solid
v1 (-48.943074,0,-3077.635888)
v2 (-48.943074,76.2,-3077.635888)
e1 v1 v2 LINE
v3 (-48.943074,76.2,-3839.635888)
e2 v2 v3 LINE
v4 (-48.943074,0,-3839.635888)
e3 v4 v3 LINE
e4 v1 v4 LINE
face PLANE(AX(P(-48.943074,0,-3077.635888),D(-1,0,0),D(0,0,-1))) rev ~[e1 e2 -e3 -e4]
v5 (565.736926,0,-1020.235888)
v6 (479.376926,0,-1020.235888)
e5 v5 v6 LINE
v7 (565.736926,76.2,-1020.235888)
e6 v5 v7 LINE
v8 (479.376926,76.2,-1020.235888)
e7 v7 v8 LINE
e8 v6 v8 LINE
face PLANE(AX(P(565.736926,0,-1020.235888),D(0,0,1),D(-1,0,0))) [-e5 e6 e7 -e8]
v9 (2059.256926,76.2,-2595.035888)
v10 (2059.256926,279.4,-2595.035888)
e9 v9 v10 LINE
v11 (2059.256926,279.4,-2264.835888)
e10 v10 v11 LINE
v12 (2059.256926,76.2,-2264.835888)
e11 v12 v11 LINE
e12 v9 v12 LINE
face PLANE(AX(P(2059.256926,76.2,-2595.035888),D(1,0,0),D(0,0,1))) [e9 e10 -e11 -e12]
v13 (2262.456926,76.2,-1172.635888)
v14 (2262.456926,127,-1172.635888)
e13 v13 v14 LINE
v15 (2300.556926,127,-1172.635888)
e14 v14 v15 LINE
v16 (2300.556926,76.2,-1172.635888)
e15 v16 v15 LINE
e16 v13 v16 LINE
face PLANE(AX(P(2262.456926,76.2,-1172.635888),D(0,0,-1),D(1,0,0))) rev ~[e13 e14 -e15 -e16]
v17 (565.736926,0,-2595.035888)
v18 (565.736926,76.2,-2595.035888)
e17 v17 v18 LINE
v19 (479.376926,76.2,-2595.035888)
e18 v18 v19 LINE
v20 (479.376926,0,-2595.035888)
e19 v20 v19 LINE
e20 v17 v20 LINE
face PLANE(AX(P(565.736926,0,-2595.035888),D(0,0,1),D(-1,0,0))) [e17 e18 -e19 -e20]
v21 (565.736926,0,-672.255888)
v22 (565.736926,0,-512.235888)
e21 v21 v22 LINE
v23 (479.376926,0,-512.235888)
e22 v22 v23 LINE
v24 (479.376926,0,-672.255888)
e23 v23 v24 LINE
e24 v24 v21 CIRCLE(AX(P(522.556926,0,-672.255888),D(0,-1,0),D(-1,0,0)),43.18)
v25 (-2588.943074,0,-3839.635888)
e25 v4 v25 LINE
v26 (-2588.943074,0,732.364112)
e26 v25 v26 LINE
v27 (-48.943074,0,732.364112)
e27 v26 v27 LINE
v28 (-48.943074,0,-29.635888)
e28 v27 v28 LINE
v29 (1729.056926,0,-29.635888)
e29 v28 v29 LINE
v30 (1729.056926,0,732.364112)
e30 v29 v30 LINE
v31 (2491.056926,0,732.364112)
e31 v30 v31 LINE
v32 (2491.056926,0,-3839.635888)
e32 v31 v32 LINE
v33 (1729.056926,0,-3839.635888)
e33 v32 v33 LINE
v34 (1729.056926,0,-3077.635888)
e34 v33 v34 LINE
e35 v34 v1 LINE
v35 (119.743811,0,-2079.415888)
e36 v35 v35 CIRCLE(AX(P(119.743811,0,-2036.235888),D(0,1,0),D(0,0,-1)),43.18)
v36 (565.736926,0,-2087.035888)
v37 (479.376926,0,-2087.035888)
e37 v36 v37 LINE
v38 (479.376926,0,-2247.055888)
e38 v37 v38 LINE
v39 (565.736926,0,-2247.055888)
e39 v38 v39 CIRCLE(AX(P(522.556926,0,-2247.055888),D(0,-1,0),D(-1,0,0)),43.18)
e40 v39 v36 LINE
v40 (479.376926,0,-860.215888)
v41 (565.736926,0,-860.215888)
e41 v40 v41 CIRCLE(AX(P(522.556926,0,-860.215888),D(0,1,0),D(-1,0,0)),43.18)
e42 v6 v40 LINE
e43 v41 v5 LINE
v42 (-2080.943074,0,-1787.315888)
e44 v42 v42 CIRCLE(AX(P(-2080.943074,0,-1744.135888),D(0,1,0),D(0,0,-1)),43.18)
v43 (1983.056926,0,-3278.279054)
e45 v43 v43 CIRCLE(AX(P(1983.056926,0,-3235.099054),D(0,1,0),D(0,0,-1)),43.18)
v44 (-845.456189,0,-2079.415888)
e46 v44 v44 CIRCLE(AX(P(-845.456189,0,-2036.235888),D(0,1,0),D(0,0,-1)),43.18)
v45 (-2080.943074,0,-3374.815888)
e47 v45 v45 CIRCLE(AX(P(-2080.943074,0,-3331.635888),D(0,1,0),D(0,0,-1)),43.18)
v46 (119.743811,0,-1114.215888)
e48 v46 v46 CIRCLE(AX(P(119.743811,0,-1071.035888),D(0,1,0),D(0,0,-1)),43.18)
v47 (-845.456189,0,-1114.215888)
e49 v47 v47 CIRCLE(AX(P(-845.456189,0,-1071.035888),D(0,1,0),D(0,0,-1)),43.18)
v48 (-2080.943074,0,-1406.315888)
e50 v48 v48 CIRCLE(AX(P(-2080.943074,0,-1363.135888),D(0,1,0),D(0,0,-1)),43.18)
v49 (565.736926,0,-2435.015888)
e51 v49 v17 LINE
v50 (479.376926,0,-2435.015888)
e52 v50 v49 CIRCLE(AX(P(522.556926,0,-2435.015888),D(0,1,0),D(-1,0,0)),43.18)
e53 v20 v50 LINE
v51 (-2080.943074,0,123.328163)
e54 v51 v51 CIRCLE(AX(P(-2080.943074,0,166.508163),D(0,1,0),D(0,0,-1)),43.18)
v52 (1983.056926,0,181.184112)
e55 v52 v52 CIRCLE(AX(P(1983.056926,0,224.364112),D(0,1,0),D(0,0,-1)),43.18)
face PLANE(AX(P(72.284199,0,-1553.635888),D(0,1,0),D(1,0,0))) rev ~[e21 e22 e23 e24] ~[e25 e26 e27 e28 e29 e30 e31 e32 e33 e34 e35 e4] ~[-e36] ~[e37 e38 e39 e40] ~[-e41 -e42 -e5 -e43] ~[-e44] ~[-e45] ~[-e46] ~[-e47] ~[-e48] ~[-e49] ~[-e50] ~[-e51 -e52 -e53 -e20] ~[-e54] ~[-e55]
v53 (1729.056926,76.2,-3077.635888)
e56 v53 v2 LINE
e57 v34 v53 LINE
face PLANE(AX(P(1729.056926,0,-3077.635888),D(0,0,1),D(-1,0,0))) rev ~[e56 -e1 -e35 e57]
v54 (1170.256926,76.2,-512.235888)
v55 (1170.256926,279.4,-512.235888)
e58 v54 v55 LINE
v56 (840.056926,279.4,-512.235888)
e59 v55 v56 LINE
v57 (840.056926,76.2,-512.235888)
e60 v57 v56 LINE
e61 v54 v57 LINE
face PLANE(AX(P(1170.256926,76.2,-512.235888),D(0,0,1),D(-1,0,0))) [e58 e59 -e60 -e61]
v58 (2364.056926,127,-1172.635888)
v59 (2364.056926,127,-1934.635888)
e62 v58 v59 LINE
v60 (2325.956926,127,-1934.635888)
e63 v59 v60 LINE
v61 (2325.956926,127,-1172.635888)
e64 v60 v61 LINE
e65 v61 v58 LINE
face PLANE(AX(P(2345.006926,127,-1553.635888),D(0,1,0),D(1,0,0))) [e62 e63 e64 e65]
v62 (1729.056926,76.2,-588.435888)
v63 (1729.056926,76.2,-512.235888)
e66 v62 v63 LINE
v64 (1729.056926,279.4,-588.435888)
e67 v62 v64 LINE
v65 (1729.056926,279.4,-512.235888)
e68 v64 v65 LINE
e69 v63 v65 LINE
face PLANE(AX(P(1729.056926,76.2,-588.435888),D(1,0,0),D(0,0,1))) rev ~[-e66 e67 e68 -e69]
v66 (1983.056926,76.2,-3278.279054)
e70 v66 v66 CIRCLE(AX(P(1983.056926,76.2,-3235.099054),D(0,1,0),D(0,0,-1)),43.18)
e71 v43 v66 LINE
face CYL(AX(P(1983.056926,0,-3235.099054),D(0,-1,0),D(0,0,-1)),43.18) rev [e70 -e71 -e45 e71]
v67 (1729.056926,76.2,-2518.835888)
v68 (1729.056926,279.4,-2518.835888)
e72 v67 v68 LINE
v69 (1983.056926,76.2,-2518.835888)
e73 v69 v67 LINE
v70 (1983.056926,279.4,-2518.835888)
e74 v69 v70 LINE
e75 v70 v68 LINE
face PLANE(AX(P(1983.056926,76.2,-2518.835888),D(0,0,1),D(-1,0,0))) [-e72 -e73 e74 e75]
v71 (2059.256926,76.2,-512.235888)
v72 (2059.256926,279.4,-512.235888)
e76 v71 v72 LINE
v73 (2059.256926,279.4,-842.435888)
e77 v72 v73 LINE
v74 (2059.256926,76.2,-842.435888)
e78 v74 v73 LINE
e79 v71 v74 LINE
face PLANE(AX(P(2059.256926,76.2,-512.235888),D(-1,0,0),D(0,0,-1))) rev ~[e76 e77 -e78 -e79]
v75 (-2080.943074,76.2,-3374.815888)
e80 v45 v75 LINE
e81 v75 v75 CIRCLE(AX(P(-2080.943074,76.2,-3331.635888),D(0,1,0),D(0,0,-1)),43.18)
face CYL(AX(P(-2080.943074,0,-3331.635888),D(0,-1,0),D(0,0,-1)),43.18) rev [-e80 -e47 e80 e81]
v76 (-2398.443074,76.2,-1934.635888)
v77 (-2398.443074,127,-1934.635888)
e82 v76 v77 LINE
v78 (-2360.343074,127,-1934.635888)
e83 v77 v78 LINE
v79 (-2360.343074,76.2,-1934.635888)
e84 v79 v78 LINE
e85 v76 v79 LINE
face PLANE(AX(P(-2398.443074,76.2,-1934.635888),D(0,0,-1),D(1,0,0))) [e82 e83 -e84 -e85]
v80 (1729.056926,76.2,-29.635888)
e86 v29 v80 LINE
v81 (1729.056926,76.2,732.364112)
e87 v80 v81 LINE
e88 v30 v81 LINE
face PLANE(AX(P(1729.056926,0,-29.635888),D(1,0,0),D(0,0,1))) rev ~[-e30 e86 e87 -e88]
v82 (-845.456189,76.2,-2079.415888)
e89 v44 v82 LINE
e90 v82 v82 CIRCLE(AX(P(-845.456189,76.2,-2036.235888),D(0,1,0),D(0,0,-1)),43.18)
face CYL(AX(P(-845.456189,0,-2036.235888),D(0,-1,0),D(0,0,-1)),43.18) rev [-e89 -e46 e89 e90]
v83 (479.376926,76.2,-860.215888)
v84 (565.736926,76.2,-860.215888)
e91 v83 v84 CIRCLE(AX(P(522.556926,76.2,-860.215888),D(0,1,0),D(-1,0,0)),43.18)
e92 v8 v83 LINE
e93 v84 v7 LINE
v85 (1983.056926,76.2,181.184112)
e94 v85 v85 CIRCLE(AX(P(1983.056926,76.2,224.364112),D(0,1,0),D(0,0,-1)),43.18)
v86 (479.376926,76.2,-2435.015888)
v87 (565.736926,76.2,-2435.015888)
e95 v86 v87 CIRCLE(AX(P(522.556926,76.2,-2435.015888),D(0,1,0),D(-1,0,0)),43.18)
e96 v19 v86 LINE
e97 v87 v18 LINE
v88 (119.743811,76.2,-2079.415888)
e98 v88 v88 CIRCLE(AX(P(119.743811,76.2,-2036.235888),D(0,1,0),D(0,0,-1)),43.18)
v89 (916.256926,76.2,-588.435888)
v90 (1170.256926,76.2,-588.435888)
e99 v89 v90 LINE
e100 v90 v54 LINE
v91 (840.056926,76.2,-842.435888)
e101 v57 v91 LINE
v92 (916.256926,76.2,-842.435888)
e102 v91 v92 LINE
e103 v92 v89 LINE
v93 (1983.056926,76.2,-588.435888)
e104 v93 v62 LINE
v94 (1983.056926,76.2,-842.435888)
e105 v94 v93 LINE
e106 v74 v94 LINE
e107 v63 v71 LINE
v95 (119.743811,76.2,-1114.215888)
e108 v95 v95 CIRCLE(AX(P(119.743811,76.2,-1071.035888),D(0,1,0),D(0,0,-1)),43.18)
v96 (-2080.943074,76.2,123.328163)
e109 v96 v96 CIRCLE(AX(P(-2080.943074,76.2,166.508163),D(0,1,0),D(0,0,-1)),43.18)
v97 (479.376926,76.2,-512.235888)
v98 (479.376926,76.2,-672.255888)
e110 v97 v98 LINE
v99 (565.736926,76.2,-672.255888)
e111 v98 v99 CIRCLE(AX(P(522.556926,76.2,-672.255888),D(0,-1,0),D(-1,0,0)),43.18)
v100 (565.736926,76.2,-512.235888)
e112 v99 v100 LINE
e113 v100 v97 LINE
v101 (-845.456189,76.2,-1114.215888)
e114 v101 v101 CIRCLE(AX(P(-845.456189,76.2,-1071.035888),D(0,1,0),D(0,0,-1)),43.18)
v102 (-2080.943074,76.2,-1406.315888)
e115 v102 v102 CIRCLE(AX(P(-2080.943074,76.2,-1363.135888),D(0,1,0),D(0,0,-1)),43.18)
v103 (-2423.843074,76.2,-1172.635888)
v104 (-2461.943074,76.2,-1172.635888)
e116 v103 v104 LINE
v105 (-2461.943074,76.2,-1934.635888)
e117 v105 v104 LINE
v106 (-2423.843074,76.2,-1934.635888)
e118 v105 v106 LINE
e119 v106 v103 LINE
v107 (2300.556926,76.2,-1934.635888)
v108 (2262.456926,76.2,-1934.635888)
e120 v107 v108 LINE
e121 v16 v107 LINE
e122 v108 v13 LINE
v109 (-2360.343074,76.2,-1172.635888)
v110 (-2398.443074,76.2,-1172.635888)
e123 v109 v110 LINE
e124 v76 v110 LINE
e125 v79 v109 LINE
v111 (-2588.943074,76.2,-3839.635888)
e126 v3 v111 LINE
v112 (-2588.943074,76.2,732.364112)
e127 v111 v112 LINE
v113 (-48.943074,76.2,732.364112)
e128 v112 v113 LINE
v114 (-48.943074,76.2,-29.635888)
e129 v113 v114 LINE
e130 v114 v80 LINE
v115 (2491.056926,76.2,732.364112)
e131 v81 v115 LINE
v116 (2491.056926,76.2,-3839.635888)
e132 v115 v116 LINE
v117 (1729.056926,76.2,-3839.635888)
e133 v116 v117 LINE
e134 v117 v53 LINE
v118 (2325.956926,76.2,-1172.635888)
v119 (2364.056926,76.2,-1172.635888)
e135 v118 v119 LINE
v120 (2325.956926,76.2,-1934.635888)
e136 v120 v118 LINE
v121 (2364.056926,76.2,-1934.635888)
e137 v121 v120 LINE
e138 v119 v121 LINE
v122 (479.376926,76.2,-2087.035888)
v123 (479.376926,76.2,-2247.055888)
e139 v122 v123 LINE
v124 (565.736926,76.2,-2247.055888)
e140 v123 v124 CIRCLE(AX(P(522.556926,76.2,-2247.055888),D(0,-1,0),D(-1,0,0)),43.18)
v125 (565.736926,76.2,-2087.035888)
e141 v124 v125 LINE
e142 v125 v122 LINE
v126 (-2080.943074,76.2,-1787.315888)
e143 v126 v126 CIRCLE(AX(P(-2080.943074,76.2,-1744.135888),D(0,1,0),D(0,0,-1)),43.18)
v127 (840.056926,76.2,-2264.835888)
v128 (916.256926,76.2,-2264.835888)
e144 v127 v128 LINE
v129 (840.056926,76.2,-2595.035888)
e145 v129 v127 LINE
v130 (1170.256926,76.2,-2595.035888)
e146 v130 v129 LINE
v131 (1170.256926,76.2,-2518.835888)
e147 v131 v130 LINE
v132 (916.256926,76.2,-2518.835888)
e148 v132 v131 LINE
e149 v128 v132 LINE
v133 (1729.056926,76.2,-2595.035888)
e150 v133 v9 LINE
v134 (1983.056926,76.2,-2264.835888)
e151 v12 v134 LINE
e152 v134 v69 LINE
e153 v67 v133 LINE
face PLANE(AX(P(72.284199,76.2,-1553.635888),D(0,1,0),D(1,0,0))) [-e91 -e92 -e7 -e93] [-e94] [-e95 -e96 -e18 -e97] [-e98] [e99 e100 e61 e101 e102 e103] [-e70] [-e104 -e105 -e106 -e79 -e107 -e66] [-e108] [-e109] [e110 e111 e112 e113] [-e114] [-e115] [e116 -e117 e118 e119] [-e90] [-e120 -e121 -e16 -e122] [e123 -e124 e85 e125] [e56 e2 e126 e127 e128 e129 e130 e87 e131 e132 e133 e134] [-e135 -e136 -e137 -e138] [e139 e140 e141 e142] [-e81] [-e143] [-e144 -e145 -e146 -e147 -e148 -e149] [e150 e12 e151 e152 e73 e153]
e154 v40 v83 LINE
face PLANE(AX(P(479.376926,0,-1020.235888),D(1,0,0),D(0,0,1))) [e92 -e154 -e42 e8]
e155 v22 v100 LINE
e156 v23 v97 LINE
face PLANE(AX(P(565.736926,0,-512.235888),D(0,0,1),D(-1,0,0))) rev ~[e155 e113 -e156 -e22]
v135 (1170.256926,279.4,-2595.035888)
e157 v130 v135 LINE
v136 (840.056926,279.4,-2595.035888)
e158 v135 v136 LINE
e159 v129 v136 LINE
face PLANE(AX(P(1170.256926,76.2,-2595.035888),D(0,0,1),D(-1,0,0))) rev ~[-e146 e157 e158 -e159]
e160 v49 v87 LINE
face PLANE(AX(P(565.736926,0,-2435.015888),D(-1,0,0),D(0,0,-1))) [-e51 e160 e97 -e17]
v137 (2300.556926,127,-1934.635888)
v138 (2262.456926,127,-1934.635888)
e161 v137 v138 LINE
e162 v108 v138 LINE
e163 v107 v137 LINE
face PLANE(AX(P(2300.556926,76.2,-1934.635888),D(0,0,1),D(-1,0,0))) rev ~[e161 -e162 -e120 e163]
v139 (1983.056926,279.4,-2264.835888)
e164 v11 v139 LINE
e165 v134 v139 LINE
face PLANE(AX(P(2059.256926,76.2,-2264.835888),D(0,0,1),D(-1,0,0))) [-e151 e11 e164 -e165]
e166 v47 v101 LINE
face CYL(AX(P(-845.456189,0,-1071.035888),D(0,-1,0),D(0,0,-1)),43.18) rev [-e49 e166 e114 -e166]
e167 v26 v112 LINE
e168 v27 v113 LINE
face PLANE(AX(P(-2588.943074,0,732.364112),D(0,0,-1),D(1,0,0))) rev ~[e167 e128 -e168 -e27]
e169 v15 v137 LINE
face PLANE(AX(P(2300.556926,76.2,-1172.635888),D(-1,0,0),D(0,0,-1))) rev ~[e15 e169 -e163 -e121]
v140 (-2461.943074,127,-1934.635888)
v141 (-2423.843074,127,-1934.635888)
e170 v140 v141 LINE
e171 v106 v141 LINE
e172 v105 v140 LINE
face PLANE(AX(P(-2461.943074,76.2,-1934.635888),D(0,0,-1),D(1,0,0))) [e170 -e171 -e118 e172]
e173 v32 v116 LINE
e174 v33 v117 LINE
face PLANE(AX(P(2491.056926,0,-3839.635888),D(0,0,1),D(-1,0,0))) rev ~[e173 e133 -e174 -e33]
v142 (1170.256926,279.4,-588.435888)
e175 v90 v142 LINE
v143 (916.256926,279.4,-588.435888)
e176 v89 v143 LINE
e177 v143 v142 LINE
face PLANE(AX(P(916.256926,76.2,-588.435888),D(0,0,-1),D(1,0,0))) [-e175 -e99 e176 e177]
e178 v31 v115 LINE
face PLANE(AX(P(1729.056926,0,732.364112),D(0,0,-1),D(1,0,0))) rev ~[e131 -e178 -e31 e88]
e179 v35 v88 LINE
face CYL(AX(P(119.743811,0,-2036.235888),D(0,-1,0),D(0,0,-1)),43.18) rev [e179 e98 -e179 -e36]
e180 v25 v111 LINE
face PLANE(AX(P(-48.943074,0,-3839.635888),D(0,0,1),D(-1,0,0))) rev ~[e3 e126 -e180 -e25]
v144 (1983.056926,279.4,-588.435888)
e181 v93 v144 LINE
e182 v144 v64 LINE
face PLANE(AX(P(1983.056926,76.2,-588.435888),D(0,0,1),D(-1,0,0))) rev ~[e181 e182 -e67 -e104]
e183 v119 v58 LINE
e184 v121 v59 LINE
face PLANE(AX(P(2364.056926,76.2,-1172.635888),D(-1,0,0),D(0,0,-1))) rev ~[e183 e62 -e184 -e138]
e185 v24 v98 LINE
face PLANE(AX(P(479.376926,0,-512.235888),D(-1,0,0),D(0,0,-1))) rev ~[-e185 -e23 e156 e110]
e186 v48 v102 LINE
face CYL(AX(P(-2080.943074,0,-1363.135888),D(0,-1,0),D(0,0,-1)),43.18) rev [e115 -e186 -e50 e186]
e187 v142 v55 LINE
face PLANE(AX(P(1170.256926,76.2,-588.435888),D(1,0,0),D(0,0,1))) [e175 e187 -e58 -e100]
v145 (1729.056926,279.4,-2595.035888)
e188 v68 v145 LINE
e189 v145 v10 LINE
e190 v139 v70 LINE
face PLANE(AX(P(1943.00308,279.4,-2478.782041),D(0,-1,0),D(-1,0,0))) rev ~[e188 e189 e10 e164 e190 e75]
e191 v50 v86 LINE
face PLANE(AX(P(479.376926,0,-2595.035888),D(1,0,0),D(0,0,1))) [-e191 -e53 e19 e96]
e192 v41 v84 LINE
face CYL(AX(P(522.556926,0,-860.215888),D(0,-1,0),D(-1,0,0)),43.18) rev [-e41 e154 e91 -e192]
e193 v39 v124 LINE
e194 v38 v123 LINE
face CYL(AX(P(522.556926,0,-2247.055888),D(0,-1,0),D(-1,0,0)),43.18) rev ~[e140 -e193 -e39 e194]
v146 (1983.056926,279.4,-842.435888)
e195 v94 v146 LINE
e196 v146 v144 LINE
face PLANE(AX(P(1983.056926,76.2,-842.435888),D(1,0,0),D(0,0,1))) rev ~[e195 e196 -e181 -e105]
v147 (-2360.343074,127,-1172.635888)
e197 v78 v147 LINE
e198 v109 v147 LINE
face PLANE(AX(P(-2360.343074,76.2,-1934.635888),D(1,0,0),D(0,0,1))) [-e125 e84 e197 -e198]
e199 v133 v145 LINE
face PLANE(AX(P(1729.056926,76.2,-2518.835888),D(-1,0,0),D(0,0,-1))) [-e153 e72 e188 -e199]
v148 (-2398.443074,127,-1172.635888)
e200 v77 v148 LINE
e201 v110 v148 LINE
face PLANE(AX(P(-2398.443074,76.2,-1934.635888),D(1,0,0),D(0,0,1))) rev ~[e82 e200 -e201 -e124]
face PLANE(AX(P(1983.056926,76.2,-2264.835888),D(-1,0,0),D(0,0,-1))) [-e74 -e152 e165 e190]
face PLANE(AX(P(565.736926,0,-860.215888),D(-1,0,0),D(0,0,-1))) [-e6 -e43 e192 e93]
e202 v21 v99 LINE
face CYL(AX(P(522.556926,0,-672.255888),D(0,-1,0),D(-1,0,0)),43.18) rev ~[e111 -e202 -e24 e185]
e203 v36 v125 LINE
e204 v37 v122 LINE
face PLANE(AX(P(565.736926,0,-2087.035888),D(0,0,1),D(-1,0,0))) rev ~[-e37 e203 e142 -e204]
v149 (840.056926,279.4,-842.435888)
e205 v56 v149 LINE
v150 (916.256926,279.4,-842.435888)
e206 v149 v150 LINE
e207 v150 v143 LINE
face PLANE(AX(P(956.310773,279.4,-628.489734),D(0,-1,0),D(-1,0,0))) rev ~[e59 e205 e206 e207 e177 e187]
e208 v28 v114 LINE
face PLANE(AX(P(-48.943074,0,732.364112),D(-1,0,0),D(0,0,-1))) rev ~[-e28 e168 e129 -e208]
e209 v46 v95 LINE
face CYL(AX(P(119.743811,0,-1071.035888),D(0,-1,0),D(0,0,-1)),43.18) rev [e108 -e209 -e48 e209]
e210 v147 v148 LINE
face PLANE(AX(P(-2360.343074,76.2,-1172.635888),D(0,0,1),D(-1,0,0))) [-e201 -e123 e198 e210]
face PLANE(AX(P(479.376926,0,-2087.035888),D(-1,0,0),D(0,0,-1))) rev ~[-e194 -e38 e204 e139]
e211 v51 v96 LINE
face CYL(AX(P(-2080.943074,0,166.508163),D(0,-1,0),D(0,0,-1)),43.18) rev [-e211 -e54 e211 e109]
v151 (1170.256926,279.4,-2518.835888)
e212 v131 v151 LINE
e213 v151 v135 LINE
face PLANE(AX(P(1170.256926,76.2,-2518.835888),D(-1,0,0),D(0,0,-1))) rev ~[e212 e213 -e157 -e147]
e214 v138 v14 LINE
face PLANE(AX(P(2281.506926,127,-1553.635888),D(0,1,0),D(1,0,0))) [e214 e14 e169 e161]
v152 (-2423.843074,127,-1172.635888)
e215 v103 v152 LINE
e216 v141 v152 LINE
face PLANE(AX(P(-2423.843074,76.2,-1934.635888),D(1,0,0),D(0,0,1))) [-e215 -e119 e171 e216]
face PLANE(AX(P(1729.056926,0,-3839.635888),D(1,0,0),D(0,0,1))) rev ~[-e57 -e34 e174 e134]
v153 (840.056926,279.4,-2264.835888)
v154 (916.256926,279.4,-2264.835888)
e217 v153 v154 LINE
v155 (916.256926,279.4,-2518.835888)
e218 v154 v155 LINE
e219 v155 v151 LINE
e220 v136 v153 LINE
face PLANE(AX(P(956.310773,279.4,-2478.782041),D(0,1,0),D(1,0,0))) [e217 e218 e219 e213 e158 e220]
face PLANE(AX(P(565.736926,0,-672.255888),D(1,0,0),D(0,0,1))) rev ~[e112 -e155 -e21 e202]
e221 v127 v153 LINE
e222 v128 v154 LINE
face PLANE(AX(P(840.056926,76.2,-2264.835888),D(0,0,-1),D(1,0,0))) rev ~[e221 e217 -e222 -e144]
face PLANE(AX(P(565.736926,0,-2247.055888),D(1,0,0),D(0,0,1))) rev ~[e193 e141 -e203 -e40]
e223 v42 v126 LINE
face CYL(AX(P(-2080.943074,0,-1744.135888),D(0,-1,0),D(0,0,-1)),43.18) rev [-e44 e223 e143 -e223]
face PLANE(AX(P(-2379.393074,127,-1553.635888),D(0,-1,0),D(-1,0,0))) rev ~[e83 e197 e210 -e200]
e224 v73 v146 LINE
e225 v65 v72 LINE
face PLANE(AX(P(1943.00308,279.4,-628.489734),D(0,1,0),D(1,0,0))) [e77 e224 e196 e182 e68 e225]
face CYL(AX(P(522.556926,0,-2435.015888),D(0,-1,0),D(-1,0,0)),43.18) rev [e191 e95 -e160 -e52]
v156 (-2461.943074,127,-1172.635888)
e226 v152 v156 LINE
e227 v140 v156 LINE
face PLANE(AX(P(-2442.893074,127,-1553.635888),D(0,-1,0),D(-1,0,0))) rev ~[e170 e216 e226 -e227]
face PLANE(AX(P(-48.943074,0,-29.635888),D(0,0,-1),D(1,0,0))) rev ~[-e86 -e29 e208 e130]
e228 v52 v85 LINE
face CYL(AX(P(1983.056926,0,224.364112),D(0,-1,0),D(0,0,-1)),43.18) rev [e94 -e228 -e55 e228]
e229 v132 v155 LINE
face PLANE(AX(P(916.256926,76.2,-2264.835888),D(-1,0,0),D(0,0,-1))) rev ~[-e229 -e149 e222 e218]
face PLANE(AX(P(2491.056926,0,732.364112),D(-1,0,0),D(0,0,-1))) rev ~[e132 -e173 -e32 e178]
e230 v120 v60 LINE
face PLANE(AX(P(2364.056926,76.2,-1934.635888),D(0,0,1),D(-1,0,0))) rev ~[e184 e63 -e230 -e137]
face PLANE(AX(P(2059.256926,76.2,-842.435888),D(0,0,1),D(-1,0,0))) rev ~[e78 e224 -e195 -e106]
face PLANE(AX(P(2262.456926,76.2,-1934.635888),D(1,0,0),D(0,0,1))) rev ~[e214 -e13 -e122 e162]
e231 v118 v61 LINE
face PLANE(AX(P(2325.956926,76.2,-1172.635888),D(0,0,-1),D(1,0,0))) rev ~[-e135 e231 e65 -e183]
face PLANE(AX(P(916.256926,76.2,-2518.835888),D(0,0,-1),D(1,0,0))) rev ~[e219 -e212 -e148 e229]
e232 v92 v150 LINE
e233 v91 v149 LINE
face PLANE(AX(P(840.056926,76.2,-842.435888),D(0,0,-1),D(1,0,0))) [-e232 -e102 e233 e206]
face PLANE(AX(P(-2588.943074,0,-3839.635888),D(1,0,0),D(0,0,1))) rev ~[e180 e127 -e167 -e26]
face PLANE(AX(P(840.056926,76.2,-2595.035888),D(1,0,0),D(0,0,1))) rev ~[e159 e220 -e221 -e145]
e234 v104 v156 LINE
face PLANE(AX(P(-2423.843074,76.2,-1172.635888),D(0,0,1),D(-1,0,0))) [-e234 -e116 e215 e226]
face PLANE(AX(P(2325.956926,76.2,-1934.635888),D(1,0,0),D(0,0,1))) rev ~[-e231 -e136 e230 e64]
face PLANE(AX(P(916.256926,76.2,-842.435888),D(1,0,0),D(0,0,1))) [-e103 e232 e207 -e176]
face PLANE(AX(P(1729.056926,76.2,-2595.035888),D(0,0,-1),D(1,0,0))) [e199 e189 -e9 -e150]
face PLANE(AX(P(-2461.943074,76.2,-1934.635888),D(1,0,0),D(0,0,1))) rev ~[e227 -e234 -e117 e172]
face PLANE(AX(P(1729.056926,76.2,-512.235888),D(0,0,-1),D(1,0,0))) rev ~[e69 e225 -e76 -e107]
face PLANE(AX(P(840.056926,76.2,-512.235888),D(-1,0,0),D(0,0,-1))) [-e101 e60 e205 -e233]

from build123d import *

# Parameters (mm, degrees)
SKETCH1_R           = 43.18
BOSS_EXTRUDE1_DEPTH = 76.2
BOSS_EXTRUDE4_DEPTH = 203.2
BOSS_EXTRUDE8_DEPTH = 50.8


with BuildPart() as part:
    # Sketch1 → Boss-Extrude1 (new body)
    with BuildSketch(Plane(origin=(0, 0, 0), x_dir=(1, 0, 0), z_dir=(0, 1, 0))):
        Polygon((-48.943073508, 29.635887653), (1729.056926492, 29.635887653), (1729.056926492, -732.364112347), (2491.056926492, -732.364112347), (2491.056926492, 3839.635887653), (1729.056926492, 3839.635887653), (1729.056926492, 3077.635887653), (-48.943073508, 3077.635887653), (-48.943073508, 3839.635887653), (-2588.943073508, 3839.635887653), (-2588.943073508, -732.364112347), (-48.943073508, -732.364112347), align=None)
        with Locations(Location((-2080.943073508, -166.508163088, 0), (0, 0, 90))):
            Circle(SKETCH1_R, mode=Mode.SUBTRACT)
        with Locations(Location((-2080.943073508, 1744.135887653, 0), (0, 0, 90))):
            Circle(SKETCH1_R, mode=Mode.SUBTRACT)
        with Locations(Location((-2080.943073508, 1363.135887653, 0), (0, 0, 90))):
            Circle(SKETCH1_R, mode=Mode.SUBTRACT)
        with Locations(Location((-2080.943073508, 3331.635887653, 0), (0, 0, 90))):
            Circle(SKETCH1_R, mode=Mode.SUBTRACT)
        with Locations(Location((1983.056926492, -224.364112347, 0), (0, 0, 90))):
            Circle(SKETCH1_R, mode=Mode.SUBTRACT)
        with Locations(Location((1983.056926492, 3235.099053778, 0), (0, 0, 90))):
            Circle(SKETCH1_R, mode=Mode.SUBTRACT)
        with Locations(Location((-845.456188569, 1071.035887653, 0), (0, 0, 90))):
            Circle(SKETCH1_R, mode=Mode.SUBTRACT)
        with Locations(Location((119.743811431, 1071.035887653, 0), (0, 0, 90))):
            Circle(SKETCH1_R, mode=Mode.SUBTRACT)
        with Locations(Location((119.743811431, 2036.235887653, 0), (0, 0, 90))):
            Circle(SKETCH1_R, mode=Mode.SUBTRACT)
        with Locations(Location((-845.456188569, 2036.235887653, 0), (0, 0, 90))):
            Circle(SKETCH1_R, mode=Mode.SUBTRACT)
        with BuildLine():
            Line((565.736926492, 2435.015887653), (565.736926492, 2595.035887653))
            Line((565.736926492, 2595.035887653), (479.376926492, 2595.035887653))
            Line((479.376926492, 2595.035887653), (479.376926492, 2435.015887653))
            ThreePointArc((479.376926492, 2435.015887653), (522.556926492, 2391.835887653), (565.736926492, 2435.015887653))
        make_face(mode=Mode.SUBTRACT)
        with BuildLine():
            Line((565.736926492, 2247.055887653), (565.736926492, 2087.035887653))
            Line((565.736926492, 2087.035887653), (479.376926492, 2087.035887653))
            Line((479.376926492, 2087.035887653), (479.376926492, 2247.055887653))
            ThreePointArc((479.376926492, 2247.055887653), (522.556926492, 2290.235887653), (565.736926492, 2247.055887653))
        make_face(mode=Mode.SUBTRACT)
        with BuildLine():
            Line((479.376926492, 1020.235887653), (479.376926492, 860.215887653))
            ThreePointArc((479.376926492, 860.215887653), (522.556926492, 817.035887653), (565.736926492, 860.215887653))
            Line((565.736926492, 860.215887653), (565.736926492, 1020.235887653))
            Line((565.736926492, 1020.235887653), (479.376926492, 1020.235887653))
        make_face(mode=Mode.SUBTRACT)
        with BuildLine():
            Line((479.376926492, 512.235887653), (479.376926492, 672.255887653))
            ThreePointArc((479.376926492, 672.255887653), (522.556926492, 715.435887653), (565.736926492, 672.255887653))
            Line((565.736926492, 672.255887653), (565.736926492, 512.235887653))
            Line((565.736926492, 512.235887653), (479.376926492, 512.235887653))
        make_face(mode=Mode.SUBTRACT)
    extrude(amount=BOSS_EXTRUDE1_DEPTH)

    # Sketch2 → Boss-Extrude4 (add)
    with BuildSketch(Plane(origin=(0, 76.2, 0), x_dir=(1, 0, 0), z_dir=(0, 1, 0))):
        Polygon((2059.256926492, 512.235887653), (2059.256926492, 842.435887653), (1983.056926492, 842.435887653), (1983.056926492, 588.435887653), (1729.056926492, 588.435887653), (1729.056926492, 512.235887653), align=None)
        Polygon((840.056926492, 842.435887653), (916.256926492, 842.435887653), (916.256926492, 588.435887653), (1170.256926492, 588.435887653), (1170.256926492, 512.235887653), (840.056926492, 512.235887653), align=None)
        Polygon((840.056926492, 2595.035887653), (840.056926492, 2264.835887653), (916.256926492, 2264.835887653), (916.256926492, 2518.835887653), (1170.256926492, 2518.835887653), (1170.256926492, 2595.035887653), align=None)
        Polygon((2059.256926492, 2264.835887653), (1983.056926492, 2264.835887653), (1983.056926492, 2518.835887653), (1729.056926492, 2518.835887653), (1729.056926492, 2595.035887653), (2059.256926492, 2595.035887653), align=None)
    extrude(amount=BOSS_EXTRUDE4_DEPTH)

    # Sketch5 → Boss-Extrude8 (add)
    with BuildSketch(Plane(origin=(0, 76.2, 0), x_dir=(1, 0, 0), z_dir=(0, 1, 0))):
        Polygon((2300.556926492, 1172.635887653), (2300.556926492, 1553.635887653), (2300.556926492, 1934.635887653), (2262.456926492, 1934.635887653), (2262.456926492, 1172.635887653), align=None)
        Polygon((-2461.943073508, 1553.635887653), (-2461.943073508, 1934.635887653), (-2423.843073508, 1934.635887653), (-2423.843073508, 1172.635887653), (-2461.943073508, 1172.635887653), align=None)
        Polygon((-2398.443073508, 1553.635887653), (-2398.443073508, 1934.635887653), (-2360.343073508, 1934.635887653), (-2360.343073508, 1172.635887653), (-2398.443073508, 1172.635887653), align=None)
        Polygon((2364.056926492, 1172.635887653), (2364.056926492, 1553.635887653), (2364.056926492, 1934.635887653), (2325.956926492, 1934.635887653), (2325.956926492, 1172.635887653), align=None)
    extrude(amount=BOSS_EXTRUDE8_DEPTH)


solid = part.part
